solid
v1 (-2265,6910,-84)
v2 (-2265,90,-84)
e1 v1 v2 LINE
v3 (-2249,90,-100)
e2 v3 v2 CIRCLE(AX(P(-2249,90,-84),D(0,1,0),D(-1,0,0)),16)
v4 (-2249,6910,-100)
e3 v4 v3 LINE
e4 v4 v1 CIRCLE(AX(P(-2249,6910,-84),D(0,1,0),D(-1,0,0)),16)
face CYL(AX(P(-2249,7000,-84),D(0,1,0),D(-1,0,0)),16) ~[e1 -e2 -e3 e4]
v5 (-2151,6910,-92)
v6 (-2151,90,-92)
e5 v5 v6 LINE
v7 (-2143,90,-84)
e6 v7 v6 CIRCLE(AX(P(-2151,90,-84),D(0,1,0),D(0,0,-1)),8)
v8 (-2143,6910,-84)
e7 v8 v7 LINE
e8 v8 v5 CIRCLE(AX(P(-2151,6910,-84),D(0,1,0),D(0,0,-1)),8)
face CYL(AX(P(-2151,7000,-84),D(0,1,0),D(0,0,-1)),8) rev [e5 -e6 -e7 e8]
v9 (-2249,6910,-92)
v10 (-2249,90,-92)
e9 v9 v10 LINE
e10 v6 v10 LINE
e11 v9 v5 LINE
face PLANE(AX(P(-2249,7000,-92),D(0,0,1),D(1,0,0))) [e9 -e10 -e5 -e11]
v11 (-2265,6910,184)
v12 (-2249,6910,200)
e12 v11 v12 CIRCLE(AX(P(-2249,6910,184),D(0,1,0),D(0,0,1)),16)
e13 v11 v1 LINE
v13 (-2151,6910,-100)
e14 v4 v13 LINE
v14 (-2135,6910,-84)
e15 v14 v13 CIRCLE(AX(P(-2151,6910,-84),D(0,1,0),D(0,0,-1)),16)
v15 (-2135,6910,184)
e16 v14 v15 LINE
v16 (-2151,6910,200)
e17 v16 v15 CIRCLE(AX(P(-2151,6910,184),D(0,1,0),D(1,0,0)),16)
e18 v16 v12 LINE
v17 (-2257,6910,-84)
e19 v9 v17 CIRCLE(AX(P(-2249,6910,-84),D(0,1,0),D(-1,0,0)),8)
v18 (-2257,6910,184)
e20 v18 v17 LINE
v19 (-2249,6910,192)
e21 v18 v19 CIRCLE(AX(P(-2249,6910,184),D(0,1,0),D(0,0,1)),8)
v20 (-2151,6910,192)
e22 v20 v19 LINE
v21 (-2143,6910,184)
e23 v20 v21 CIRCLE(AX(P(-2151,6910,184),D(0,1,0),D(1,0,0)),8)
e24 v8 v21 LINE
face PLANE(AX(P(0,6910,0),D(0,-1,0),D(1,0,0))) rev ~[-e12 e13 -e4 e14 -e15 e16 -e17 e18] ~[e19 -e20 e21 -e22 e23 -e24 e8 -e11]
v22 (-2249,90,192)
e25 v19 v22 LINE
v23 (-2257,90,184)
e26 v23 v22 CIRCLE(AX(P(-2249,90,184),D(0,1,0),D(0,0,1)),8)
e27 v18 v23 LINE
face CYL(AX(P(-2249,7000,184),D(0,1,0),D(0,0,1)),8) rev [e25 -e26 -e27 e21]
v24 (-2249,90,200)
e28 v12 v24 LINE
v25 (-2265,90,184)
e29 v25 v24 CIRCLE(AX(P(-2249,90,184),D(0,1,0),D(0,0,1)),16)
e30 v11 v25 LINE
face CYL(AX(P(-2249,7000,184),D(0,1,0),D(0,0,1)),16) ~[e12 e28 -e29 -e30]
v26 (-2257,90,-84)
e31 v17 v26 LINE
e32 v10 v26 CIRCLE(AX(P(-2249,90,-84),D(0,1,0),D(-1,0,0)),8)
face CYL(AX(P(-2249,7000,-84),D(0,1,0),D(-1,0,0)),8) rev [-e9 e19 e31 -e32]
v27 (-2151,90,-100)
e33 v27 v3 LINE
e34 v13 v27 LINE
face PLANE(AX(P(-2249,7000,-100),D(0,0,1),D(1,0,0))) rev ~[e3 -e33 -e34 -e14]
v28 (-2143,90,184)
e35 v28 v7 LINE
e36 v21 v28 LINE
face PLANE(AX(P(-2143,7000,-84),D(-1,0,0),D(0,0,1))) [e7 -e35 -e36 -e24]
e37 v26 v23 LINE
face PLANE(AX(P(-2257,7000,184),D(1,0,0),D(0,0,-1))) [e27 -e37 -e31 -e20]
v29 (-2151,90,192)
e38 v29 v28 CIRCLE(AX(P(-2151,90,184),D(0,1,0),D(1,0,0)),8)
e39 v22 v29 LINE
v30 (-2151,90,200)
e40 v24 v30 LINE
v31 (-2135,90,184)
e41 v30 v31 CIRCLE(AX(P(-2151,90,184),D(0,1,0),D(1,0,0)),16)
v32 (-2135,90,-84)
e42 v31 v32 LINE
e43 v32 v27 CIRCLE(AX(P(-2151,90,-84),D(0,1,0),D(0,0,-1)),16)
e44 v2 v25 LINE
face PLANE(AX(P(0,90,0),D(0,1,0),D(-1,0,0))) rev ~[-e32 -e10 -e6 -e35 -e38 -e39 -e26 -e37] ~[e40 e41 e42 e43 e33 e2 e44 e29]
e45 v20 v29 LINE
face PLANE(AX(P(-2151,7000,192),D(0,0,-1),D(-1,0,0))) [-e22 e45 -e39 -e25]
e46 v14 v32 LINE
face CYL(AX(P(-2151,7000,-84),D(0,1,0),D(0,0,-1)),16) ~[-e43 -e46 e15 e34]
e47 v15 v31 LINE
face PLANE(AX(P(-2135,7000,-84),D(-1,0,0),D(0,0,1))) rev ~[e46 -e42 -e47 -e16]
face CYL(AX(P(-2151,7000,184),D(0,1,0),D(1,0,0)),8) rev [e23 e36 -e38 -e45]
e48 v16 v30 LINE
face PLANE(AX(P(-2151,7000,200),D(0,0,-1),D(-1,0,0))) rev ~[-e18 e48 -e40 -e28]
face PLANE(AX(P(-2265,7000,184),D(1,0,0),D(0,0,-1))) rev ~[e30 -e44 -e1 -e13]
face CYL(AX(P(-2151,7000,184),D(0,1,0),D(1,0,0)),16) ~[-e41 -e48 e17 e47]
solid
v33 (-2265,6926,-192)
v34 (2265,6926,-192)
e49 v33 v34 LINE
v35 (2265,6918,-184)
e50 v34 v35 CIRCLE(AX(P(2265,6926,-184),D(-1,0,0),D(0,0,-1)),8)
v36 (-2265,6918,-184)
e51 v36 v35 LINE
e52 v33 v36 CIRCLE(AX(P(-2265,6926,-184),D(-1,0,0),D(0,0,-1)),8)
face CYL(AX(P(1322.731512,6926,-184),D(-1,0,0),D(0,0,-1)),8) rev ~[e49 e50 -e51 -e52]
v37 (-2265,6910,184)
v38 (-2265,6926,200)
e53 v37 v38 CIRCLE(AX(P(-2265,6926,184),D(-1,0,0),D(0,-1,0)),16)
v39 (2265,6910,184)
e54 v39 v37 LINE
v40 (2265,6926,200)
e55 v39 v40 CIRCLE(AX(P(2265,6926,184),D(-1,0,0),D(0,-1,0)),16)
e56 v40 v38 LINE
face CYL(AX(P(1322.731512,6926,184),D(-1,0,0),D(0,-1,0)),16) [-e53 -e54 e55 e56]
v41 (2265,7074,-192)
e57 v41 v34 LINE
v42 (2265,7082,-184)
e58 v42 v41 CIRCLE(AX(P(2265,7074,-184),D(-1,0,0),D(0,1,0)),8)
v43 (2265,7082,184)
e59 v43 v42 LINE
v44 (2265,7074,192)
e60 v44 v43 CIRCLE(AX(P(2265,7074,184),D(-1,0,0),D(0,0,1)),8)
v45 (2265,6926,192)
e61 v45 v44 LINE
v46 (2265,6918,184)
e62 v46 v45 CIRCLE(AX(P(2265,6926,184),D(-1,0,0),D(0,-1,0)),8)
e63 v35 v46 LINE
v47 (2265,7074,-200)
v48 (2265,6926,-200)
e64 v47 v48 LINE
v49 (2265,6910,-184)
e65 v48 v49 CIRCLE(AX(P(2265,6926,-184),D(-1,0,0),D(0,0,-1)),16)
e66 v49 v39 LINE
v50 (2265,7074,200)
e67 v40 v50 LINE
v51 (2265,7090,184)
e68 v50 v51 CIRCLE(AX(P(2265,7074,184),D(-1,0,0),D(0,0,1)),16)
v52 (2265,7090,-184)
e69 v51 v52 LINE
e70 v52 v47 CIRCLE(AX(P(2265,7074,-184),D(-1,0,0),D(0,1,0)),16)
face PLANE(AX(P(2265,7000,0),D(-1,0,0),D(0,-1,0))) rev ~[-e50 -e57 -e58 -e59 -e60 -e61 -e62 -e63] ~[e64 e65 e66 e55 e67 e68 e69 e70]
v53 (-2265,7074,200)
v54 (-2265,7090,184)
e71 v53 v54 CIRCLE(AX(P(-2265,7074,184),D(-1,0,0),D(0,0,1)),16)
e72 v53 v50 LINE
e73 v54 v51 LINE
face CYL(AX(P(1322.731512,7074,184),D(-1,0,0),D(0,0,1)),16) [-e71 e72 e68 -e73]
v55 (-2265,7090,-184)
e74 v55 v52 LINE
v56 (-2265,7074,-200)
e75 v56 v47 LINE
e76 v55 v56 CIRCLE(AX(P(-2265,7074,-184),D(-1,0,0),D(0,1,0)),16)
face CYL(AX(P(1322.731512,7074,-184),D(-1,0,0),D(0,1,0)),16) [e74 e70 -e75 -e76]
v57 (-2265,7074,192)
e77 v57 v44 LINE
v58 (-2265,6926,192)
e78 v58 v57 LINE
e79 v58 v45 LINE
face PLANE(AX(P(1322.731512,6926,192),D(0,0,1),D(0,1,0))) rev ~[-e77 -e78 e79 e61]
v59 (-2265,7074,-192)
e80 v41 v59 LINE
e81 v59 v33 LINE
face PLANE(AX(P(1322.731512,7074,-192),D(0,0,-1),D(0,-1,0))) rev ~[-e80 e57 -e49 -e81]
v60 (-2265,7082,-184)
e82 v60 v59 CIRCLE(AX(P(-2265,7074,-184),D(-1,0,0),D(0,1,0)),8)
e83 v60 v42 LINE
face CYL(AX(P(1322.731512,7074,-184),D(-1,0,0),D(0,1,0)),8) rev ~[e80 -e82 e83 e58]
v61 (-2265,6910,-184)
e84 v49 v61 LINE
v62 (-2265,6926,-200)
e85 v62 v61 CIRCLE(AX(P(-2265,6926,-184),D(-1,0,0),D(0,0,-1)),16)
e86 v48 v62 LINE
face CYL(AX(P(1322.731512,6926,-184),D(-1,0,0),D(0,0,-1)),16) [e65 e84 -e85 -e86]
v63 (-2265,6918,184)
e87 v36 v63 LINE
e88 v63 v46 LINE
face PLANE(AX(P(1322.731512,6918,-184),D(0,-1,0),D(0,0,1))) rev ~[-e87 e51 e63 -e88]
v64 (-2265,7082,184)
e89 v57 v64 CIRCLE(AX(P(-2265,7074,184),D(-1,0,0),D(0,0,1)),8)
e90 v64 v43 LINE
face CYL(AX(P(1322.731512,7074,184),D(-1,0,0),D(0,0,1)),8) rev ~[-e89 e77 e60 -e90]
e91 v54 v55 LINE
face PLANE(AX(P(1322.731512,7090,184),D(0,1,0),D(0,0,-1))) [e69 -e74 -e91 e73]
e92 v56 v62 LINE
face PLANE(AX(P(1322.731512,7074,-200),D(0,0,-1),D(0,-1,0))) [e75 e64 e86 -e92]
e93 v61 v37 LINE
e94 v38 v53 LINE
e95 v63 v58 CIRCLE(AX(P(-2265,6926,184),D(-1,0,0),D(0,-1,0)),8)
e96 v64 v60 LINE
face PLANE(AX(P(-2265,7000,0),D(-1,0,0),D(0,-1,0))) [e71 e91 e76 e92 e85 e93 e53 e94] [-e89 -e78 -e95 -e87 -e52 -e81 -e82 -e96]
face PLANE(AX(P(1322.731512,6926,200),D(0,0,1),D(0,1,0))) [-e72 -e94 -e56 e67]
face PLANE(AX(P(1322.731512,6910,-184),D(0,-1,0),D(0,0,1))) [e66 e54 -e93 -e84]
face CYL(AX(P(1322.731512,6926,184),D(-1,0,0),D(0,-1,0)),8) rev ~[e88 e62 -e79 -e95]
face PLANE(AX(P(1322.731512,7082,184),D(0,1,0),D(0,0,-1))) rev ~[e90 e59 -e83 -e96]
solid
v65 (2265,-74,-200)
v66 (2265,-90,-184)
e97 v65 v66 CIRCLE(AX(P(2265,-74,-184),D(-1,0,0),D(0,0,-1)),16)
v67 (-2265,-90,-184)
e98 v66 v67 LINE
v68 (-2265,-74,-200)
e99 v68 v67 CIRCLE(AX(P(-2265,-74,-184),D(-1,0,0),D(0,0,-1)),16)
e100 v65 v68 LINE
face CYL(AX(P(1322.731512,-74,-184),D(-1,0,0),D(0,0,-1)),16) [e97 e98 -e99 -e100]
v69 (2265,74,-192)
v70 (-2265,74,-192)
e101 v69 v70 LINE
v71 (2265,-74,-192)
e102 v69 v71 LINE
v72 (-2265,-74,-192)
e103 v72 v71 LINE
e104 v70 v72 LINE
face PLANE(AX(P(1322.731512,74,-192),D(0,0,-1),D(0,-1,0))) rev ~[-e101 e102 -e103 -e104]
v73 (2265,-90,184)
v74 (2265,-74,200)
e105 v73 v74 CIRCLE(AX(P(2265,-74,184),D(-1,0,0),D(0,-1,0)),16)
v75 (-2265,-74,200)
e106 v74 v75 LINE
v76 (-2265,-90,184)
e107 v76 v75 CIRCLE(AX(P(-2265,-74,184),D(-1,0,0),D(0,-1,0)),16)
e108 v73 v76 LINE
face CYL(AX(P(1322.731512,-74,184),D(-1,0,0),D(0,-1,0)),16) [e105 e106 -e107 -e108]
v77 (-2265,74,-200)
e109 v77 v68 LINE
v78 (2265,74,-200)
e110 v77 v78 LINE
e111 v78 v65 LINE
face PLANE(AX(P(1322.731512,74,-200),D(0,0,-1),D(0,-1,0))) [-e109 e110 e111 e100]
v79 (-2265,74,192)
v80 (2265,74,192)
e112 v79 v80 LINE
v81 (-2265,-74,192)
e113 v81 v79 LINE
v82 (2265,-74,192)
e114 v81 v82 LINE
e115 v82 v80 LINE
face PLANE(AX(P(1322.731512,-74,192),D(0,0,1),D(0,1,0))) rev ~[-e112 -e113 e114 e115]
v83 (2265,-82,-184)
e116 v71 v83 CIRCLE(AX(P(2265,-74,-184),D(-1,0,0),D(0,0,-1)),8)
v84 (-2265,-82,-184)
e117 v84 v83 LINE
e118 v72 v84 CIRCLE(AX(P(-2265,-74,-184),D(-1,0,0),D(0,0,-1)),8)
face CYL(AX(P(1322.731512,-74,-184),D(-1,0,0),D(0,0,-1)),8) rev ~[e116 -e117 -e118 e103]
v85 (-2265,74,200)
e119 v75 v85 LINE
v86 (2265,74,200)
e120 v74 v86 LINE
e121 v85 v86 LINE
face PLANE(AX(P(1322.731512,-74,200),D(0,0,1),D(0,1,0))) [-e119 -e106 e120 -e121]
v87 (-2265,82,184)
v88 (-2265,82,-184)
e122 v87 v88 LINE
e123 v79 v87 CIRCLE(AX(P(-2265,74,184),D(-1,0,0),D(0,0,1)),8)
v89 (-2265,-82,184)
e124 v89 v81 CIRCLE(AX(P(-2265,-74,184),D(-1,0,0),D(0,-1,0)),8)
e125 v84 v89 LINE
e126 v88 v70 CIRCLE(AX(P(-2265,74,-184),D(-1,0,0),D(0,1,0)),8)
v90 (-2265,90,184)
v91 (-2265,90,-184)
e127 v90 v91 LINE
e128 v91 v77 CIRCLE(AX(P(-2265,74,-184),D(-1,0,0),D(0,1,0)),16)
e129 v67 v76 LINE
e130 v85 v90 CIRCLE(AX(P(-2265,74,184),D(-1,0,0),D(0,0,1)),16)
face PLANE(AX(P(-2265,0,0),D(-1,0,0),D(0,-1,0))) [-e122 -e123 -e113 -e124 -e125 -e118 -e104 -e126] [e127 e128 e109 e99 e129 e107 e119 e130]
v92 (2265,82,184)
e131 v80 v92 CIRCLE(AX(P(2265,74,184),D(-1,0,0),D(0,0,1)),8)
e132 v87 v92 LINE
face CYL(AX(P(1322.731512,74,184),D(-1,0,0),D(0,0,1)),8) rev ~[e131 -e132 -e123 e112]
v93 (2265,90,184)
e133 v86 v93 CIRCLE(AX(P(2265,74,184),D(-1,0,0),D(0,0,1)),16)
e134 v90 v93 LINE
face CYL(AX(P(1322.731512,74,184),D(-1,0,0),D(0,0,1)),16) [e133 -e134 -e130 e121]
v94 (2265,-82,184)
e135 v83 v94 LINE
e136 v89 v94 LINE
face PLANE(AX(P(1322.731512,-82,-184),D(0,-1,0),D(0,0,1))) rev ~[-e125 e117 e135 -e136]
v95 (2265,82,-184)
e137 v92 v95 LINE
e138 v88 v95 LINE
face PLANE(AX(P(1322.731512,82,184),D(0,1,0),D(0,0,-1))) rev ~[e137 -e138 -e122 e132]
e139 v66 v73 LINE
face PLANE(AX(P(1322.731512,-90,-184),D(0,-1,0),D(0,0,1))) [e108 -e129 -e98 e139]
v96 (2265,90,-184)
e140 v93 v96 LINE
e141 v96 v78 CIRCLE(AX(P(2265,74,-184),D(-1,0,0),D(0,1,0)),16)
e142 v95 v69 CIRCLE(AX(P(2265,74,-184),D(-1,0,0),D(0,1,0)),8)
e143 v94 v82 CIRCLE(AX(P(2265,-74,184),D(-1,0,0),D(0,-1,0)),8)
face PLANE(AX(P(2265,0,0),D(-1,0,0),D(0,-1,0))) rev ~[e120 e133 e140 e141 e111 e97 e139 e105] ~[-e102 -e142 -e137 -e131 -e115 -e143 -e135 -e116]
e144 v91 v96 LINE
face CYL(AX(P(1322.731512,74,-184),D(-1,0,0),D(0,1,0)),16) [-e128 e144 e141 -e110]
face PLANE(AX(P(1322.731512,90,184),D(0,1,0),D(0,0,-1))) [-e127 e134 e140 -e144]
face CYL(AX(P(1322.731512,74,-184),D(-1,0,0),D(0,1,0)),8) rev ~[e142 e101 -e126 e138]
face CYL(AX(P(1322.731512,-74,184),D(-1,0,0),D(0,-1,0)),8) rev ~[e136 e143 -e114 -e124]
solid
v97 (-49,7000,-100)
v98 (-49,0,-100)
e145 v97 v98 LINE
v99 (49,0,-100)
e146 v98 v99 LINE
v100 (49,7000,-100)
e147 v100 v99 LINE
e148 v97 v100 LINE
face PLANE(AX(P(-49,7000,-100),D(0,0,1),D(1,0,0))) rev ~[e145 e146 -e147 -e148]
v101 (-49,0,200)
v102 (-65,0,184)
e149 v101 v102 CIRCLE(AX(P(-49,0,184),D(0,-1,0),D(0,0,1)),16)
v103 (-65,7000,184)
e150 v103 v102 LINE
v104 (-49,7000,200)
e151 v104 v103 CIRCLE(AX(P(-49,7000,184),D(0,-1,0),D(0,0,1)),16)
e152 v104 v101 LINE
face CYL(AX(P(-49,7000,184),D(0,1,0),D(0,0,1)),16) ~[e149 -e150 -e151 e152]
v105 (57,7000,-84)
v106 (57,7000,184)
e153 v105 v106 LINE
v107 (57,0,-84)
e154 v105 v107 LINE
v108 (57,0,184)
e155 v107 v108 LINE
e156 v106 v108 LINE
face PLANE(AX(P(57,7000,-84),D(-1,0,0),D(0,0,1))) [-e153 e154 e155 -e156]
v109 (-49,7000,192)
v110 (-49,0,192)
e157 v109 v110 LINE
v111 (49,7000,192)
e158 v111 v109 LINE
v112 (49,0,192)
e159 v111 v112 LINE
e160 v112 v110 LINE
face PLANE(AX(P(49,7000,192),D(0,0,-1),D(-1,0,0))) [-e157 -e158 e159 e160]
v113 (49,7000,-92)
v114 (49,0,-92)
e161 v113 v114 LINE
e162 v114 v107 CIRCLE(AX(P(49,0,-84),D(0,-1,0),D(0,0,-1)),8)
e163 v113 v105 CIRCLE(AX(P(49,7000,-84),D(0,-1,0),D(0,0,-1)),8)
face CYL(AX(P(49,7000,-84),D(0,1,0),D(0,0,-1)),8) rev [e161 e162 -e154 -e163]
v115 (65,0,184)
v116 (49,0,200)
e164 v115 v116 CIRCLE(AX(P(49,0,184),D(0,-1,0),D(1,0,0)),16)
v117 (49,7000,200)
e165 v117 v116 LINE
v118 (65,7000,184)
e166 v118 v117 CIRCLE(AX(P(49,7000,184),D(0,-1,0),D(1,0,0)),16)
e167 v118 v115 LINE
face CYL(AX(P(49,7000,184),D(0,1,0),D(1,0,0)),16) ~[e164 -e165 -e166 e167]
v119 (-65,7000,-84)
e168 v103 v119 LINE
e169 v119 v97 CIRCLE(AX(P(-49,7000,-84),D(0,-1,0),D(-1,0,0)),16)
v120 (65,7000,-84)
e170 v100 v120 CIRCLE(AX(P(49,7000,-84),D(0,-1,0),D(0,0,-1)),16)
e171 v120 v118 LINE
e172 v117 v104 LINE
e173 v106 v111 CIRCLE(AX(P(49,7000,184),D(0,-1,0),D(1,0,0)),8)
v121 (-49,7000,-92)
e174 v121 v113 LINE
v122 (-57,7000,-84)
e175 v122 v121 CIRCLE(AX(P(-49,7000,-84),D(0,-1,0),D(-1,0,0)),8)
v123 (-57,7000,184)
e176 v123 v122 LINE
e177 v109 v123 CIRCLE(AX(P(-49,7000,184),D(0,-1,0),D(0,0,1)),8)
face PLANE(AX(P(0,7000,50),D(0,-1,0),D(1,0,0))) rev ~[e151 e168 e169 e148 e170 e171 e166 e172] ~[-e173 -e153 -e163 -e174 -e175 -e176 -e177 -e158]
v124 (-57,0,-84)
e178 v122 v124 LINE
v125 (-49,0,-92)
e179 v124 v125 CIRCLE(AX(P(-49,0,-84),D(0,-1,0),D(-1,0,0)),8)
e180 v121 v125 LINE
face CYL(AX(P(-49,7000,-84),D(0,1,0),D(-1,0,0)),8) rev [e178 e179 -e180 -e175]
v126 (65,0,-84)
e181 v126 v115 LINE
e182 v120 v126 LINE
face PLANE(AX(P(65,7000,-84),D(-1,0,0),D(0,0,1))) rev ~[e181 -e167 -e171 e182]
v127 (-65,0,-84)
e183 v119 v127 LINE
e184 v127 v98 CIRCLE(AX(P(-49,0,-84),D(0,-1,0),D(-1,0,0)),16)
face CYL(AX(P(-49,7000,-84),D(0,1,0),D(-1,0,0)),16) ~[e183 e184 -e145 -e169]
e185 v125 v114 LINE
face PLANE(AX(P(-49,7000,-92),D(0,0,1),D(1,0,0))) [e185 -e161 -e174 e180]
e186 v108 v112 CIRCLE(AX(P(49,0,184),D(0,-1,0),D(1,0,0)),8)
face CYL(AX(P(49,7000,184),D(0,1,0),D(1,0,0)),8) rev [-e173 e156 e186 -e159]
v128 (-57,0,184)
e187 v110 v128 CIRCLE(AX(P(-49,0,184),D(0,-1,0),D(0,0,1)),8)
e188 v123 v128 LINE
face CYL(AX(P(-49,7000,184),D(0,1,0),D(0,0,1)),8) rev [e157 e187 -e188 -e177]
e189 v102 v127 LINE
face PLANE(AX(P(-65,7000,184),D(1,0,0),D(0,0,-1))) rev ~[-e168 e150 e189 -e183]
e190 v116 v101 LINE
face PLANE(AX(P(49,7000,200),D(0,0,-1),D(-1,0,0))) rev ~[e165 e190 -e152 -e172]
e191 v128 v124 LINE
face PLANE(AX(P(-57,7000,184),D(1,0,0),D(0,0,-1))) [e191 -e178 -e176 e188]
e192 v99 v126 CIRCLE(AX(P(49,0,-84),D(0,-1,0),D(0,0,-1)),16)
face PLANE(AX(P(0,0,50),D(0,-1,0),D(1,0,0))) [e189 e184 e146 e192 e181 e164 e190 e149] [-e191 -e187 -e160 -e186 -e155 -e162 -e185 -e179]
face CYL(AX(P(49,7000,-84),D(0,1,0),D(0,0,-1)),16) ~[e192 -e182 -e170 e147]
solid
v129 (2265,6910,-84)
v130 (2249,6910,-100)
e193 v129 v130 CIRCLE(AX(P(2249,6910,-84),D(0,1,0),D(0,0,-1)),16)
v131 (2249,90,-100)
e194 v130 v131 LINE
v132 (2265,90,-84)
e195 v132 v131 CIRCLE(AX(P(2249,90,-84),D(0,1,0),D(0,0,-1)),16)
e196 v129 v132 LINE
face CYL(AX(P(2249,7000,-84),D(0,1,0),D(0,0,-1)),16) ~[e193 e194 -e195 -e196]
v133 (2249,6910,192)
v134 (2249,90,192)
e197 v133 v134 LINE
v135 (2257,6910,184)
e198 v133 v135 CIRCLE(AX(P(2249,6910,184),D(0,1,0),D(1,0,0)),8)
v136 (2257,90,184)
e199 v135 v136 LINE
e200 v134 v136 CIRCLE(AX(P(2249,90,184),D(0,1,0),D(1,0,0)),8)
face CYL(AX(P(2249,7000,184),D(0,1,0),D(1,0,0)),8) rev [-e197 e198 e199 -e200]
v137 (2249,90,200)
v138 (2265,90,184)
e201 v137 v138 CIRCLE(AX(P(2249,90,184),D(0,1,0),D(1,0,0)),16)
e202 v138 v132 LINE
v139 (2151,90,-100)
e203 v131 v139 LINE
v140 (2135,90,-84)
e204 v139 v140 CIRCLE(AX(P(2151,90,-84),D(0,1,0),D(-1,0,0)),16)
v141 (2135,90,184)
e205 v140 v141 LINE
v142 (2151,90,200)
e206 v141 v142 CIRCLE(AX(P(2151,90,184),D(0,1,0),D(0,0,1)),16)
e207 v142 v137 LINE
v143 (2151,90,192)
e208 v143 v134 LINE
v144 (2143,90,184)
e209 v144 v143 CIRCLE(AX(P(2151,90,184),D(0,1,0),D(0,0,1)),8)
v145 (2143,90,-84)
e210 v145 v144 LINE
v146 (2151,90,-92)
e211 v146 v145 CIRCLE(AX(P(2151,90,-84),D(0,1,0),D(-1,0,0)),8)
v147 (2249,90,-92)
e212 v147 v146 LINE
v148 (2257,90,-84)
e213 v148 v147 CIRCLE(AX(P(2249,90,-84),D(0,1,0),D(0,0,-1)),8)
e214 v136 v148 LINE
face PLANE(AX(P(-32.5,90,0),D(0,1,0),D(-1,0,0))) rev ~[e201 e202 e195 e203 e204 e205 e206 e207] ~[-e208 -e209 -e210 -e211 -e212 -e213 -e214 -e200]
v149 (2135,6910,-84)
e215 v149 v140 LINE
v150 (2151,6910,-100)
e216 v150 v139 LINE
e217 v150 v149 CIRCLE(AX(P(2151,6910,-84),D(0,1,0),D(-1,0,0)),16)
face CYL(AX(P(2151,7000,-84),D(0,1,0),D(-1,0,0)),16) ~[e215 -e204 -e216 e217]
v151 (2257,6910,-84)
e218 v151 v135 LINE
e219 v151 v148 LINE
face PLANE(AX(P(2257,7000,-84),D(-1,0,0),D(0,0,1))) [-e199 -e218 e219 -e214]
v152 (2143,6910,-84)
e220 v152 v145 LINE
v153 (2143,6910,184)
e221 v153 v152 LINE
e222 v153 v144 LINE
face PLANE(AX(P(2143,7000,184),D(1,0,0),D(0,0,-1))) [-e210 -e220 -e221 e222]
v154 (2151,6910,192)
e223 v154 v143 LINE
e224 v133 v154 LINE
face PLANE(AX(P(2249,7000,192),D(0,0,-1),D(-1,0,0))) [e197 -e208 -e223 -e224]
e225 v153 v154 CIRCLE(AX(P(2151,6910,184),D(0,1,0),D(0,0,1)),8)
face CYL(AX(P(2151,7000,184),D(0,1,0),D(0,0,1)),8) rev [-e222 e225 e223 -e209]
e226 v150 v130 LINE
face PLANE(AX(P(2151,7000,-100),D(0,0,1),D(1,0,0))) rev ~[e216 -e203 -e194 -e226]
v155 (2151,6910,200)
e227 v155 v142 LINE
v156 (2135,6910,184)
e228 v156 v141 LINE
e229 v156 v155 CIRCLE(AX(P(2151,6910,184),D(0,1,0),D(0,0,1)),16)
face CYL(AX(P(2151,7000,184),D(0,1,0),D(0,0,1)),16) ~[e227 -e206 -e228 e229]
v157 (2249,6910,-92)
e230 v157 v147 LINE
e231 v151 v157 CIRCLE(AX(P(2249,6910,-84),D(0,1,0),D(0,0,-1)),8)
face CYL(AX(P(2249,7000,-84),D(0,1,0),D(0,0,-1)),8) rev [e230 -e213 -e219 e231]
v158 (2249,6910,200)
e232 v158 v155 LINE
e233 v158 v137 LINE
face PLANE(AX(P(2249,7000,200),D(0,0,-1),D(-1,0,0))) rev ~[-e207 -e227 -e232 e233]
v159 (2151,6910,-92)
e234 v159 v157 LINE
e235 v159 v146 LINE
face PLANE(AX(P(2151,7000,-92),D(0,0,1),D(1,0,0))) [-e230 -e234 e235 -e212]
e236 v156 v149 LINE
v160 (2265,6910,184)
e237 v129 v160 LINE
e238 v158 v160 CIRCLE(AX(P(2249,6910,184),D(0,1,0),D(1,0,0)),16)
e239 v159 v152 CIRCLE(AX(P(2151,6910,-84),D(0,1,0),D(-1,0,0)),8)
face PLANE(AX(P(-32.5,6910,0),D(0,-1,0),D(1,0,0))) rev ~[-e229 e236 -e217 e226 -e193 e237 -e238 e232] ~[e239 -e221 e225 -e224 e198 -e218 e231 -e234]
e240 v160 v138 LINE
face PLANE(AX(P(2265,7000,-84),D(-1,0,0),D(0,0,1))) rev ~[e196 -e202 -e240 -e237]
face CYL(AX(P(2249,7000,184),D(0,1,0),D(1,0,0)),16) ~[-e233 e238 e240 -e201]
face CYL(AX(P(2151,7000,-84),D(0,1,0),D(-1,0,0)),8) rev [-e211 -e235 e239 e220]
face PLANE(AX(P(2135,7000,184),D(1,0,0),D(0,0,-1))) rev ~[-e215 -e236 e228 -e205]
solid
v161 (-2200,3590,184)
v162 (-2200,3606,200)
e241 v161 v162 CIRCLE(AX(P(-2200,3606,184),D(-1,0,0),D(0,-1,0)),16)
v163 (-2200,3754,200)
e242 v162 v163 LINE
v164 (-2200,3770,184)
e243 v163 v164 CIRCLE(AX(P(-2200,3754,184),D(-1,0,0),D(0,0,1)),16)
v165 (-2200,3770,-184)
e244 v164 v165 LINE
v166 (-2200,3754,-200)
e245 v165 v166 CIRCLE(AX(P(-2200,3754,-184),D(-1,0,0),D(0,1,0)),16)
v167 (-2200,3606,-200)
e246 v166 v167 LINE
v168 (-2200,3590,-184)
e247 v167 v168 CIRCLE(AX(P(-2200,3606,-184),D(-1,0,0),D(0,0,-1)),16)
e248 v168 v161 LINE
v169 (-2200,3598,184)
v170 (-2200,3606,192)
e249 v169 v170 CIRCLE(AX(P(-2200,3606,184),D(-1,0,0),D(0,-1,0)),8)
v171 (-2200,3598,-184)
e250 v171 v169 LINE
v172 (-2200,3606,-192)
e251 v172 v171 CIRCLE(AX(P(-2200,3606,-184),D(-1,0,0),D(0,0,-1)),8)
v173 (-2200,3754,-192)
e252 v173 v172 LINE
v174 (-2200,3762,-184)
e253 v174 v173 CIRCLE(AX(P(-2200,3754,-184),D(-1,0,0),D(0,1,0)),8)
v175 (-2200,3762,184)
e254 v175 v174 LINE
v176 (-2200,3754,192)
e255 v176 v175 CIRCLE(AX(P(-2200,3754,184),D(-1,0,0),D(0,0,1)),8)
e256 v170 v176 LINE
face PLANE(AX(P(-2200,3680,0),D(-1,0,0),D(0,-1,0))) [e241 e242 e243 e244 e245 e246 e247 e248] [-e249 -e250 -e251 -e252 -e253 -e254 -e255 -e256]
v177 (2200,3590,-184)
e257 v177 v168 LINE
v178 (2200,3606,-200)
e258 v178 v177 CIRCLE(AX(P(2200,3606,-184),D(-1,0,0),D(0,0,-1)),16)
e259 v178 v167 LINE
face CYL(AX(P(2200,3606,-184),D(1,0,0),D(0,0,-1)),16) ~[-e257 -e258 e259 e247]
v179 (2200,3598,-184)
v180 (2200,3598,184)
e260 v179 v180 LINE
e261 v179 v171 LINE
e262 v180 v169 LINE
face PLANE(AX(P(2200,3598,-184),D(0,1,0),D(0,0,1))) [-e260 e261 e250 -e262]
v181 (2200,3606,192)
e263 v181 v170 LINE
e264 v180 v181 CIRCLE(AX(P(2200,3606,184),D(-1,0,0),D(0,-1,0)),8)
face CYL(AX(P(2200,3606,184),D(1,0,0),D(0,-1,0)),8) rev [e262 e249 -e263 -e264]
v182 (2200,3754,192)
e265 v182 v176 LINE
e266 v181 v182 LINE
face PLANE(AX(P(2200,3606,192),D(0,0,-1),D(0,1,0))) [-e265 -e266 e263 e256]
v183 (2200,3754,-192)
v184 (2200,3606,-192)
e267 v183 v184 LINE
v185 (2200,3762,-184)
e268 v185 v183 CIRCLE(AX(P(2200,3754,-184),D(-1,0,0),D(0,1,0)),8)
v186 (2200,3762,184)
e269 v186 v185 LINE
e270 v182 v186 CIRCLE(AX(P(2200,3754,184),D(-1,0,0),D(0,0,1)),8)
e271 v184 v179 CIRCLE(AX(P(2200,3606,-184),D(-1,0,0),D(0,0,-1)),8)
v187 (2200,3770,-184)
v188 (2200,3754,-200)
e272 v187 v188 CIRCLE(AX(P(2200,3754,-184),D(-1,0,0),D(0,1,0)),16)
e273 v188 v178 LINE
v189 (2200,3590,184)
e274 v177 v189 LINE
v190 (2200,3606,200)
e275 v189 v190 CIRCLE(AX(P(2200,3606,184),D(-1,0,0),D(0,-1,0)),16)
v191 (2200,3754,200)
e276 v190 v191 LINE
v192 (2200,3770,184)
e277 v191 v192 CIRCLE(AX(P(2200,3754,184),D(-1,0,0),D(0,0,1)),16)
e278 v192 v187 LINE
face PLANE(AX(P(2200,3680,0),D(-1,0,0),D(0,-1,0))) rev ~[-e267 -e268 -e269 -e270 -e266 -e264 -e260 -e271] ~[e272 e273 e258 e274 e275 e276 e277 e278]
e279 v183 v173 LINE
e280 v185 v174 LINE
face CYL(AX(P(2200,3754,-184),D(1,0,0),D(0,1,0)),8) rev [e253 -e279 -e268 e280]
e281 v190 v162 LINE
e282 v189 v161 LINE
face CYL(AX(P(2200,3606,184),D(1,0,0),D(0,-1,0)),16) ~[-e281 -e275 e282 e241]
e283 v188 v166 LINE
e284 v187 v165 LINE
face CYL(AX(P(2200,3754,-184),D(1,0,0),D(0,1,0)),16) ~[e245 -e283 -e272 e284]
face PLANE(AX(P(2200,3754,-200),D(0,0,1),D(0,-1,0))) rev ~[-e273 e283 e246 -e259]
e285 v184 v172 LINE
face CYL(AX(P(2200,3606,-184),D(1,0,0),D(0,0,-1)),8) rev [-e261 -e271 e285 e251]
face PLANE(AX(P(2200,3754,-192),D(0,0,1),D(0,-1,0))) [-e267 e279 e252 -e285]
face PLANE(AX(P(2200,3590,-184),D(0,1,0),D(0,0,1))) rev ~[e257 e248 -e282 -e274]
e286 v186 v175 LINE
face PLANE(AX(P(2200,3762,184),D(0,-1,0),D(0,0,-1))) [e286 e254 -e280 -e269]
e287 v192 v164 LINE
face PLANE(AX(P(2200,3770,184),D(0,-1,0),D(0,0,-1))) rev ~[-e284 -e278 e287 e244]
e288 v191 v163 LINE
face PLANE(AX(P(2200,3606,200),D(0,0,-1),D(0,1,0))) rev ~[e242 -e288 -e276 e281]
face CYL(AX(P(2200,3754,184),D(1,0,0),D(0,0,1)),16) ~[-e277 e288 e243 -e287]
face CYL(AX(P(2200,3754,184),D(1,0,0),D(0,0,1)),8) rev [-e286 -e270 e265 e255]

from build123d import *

# Parameters (mm, degrees)
TUBO_RECTANGULAR_120_X_80_X_8_1_DEPTH   = 4400
TUBO_RECTANGULAR_120_X_80_X_8_1_2_DEPTH = 4400
TUBO_RECTANGULAR_120_X_80_X_8_1_3_DEPTH = 4400
TUBO_RECTANGULAR_120_X_80_X_8_2_DEPTH   = 7000
TUBO_RECTANGULAR_120_X_80_X_8_2_2_DEPTH = 7000
TUBO_RECTANGULAR_120_X_80_X_8_2_3_DEPTH = 7000
PART_START                              = 3522.731512022
PART_RUN_ON_DEPTH                       = 942.268487978
PART_START_2                            = 877.268487978
PART_RUN_ON_2_DEPTH                     = 942.268487978
BODY_START                              = 3522.731512022
BODY_3_RUN_ON_DEPTH                     = 942.268487978
BODY_START_2                            = 877.268487978
BODY_3_RUN_ON_2_DEPTH                   = 942.268487978


with BuildPart() as part:
    # Sketch1 → Tubo rectangular 120 X 80 X 8(1) (new body)
    with BuildSketch(Plane(origin=(2200, 0, 0), x_dir=(0, -1, 0), z_dir=(-1, 0, 0))):
        with BuildLine():
            Line((-74, -200), (74, -200))
            ThreePointArc((74, -200), (85.313708499, -195.313708499), (90, -184))
            Line((90, -184), (90, 184))
            ThreePointArc((90, 184), (85.313708499, 195.313708499), (74, 200))
            Line((74, 200), (-74, 200))
            ThreePointArc((-74, 200), (-85.313708499, 195.313708499), (-90, 184))
            Line((-90, 184), (-90, -184))
            ThreePointArc((-90, -184), (-85.313708499, -195.313708499), (-74, -200))
        make_face()
        with BuildLine():
            Line((-74, -192), (74, -192))
            ThreePointArc((74, -192), (79.656854249, -189.656854249), (82, -184))
            Line((82, -184), (82, 184))
            ThreePointArc((82, 184), (79.656854249, 189.656854249), (74, 192))
            Line((74, 192), (-74, 192))
            ThreePointArc((-74, 192), (-79.656854249, 189.656854249), (-82, 184))
            Line((-82, 184), (-82, -184))
            ThreePointArc((-82, -184), (-79.656854249, -189.656854249), (-74, -192))
        make_face(mode=Mode.SUBTRACT)
    extrude(amount=TUBO_RECTANGULAR_120_X_80_X_8_1_DEPTH)

    # part cut square before the run-on
    split(bisect_by=Plane.YZ.offset(-1322.731512022), keep=Keep.TOP)

    # Sketch1 → part run on (add)
    with BuildSketch(Plane(origin=(2200, 0, 0), x_dir=(0, -1, 0), z_dir=(-1, 0, 0)).offset(PART_START)):
        with BuildLine():
            Line((-74, -200), (74, -200))
            ThreePointArc((74, -200), (85.313708499, -195.313708499), (90, -184))
            Line((90, -184), (90, 184))
            ThreePointArc((90, 184), (85.313708499, 195.313708499), (74, 200))
            Line((74, 200), (-74, 200))
            ThreePointArc((-74, 200), (-85.313708499, 195.313708499), (-90, 184))
            Line((-90, 184), (-90, -184))
            ThreePointArc((-90, -184), (-85.313708499, -195.313708499), (-74, -200))
        make_face()
        with BuildLine():
            Line((-74, -192), (74, -192))
            ThreePointArc((74, -192), (79.656854249, -189.656854249), (82, -184))
            Line((82, -184), (82, 184))
            ThreePointArc((82, 184), (79.656854249, 189.656854249), (74, 192))
            Line((74, 192), (-74, 192))
            ThreePointArc((-74, 192), (-79.656854249, 189.656854249), (-82, 184))
            Line((-82, 184), (-82, -184))
            ThreePointArc((-82, -184), (-79.656854249, -189.656854249), (-74, -192))
        make_face(mode=Mode.SUBTRACT)
    extrude(amount=PART_RUN_ON_DEPTH)

    # part cut square before the run-on
    split(bisect_by=Plane(origin=(1322.731512022, 0, 0), x_dir=(0, -1, 0), z_dir=(-1, 0, 0)), keep=Keep.TOP)

    # Sketch1 → part run on 2 (add)
    with BuildSketch(Plane(origin=(2200, 0, 0), x_dir=(0, -1, 0), z_dir=(-1, 0, 0)).offset(PART_START_2)):
        with BuildLine():
            Line((-74, -200), (74, -200))
            ThreePointArc((74, -200), (85.313708499, -195.313708499), (90, -184))
            Line((90, -184), (90, 184))
            ThreePointArc((90, 184), (85.313708499, 195.313708499), (74, 200))
            Line((74, 200), (-74, 200))
            ThreePointArc((-74, 200), (-85.313708499, 195.313708499), (-90, 184))
            Line((-90, 184), (-90, -184))
            ThreePointArc((-90, -184), (-85.313708499, -195.313708499), (-74, -200))
        make_face()
        with BuildLine():
            Line((-74, -192), (74, -192))
            ThreePointArc((74, -192), (79.656854249, -189.656854249), (82, -184))
            Line((82, -184), (82, 184))
            ThreePointArc((82, 184), (79.656854249, 189.656854249), (74, 192))
            Line((74, 192), (-74, 192))
            ThreePointArc((-74, 192), (-79.656854249, 189.656854249), (-82, 184))
            Line((-82, 184), (-82, -184))
            ThreePointArc((-82, -184), (-79.656854249, -189.656854249), (-74, -192))
        make_face(mode=Mode.SUBTRACT)
    extrude(amount=-PART_RUN_ON_2_DEPTH)


with BuildPart() as body_2:
    # Sketch1 on segment 2 (carried to segment 2) → Tubo rectangular 120 X 80 X 8_1 2 (new body)
    with BuildSketch(Plane(origin=(2200, 3680, 0), x_dir=(0, -1, 0), z_dir=(-1, 0, 0))):
        with BuildLine():
            Line((-74, -200), (74, -200))
            ThreePointArc((74, -200), (85.313708499, -195.313708499), (90, -184))
            Line((90, -184), (90, 184))
            ThreePointArc((90, 184), (85.313708499, 195.313708499), (74, 200))
            Line((74, 200), (-74, 200))
            ThreePointArc((-74, 200), (-85.313708499, 195.313708499), (-90, 184))
            Line((-90, 184), (-90, -184))
            ThreePointArc((-90, -184), (-85.313708499, -195.313708499), (-74, -200))
        make_face()
        with BuildLine():
            Line((-74, -192), (74, -192))
            ThreePointArc((74, -192), (79.656854249, -189.656854249), (82, -184))
            Line((82, -184), (82, 184))
            ThreePointArc((82, 184), (79.656854249, 189.656854249), (74, 192))
            Line((74, 192), (-74, 192))
            ThreePointArc((-74, 192), (-79.656854249, 189.656854249), (-82, 184))
            Line((-82, 184), (-82, -184))
            ThreePointArc((-82, -184), (-79.656854249, -189.656854249), (-74, -192))
        make_face(mode=Mode.SUBTRACT)
    extrude(amount=TUBO_RECTANGULAR_120_X_80_X_8_1_2_DEPTH)


with BuildPart() as body_3:
    # Sketch1 on segment 3 (carried to segment 3) → Tubo rectangular 120 X 80 X 8_1 3 (new body)
    with BuildSketch(Plane(origin=(2200, 7000, 0), x_dir=(0, -1, 0), z_dir=(-1, 0, 0))):
        with BuildLine():
            Line((-74, -200), (74, -200))
            ThreePointArc((74, -200), (85.313708499, -195.313708499), (90, -184))
            Line((90, -184), (90, 184))
            ThreePointArc((90, 184), (85.313708499, 195.313708499), (74, 200))
            Line((74, 200), (-74, 200))
            ThreePointArc((-74, 200), (-85.313708499, 195.313708499), (-90, 184))
            Line((-90, 184), (-90, -184))
            ThreePointArc((-90, -184), (-85.313708499, -195.313708499), (-74, -200))
        make_face()
        with BuildLine():
            Line((-74, -192), (74, -192))
            ThreePointArc((74, -192), (79.656854249, -189.656854249), (82, -184))
            Line((82, -184), (82, 184))
            ThreePointArc((82, 184), (79.656854249, 189.656854249), (74, 192))
            Line((74, 192), (-74, 192))
            ThreePointArc((-74, 192), (-79.656854249, 189.656854249), (-82, 184))
            Line((-82, 184), (-82, -184))
            ThreePointArc((-82, -184), (-79.656854249, -189.656854249), (-74, -192))
        make_face(mode=Mode.SUBTRACT)
    extrude(amount=TUBO_RECTANGULAR_120_X_80_X_8_1_3_DEPTH)

    # body 3 cut square before the run-on
    split(bisect_by=Plane(origin=(-1322.731512022, 7000, 0), x_dir=(0, 1, 0), z_dir=(1, 0, 0)), keep=Keep.TOP)

    # Sketch1 on segment 3 (carried to segment 3) → body 3 run on (add)
    with BuildSketch(Plane(origin=(2200, 7000, 0), x_dir=(0, -1, 0), z_dir=(-1, 0, 0)).offset(BODY_START)):
        with BuildLine():
            Line((-74, -200), (74, -200))
            ThreePointArc((74, -200), (85.313708499, -195.313708499), (90, -184))
            Line((90, -184), (90, 184))
            ThreePointArc((90, 184), (85.313708499, 195.313708499), (74, 200))
            Line((74, 200), (-74, 200))
            ThreePointArc((-74, 200), (-85.313708499, 195.313708499), (-90, 184))
            Line((-90, 184), (-90, -184))
            ThreePointArc((-90, -184), (-85.313708499, -195.313708499), (-74, -200))
        make_face()
        with BuildLine():
            Line((-74, -192), (74, -192))
            ThreePointArc((74, -192), (79.656854249, -189.656854249), (82, -184))
            Line((82, -184), (82, 184))
            ThreePointArc((82, 184), (79.656854249, 189.656854249), (74, 192))
            Line((74, 192), (-74, 192))
            ThreePointArc((-74, 192), (-79.656854249, 189.656854249), (-82, 184))
            Line((-82, 184), (-82, -184))
            ThreePointArc((-82, -184), (-79.656854249, -189.656854249), (-74, -192))
        make_face(mode=Mode.SUBTRACT)
    extrude(amount=BODY_3_RUN_ON_DEPTH)

    # body 3 cut square before the run-on
    split(bisect_by=Plane(origin=(1322.731512022, 7000, 0), x_dir=(0, -1, 0), z_dir=(-1, 0, 0)), keep=Keep.TOP)

    # Sketch1 on segment 3 (carried to segment 3) → body 3 run on 2 (add)
    with BuildSketch(Plane(origin=(2200, 7000, 0), x_dir=(0, -1, 0), z_dir=(-1, 0, 0)).offset(BODY_START_2)):
        with BuildLine():
            Line((-74, -200), (74, -200))
            ThreePointArc((74, -200), (85.313708499, -195.313708499), (90, -184))
            Line((90, -184), (90, 184))
            ThreePointArc((90, 184), (85.313708499, 195.313708499), (74, 200))
            Line((74, 200), (-74, 200))
            ThreePointArc((-74, 200), (-85.313708499, 195.313708499), (-90, 184))
            Line((-90, 184), (-90, -184))
            ThreePointArc((-90, -184), (-85.313708499, -195.313708499), (-74, -200))
        make_face()
        with BuildLine():
            Line((-74, -192), (74, -192))
            ThreePointArc((74, -192), (79.656854249, -189.656854249), (82, -184))
            Line((82, -184), (82, 184))
            ThreePointArc((82, 184), (79.656854249, 189.656854249), (74, 192))
            Line((74, 192), (-74, 192))
            ThreePointArc((-74, 192), (-79.656854249, 189.656854249), (-82, 184))
            Line((-82, 184), (-82, -184))
            ThreePointArc((-82, -184), (-79.656854249, -189.656854249), (-74, -192))
        make_face(mode=Mode.SUBTRACT)
    extrude(amount=-BODY_3_RUN_ON_2_DEPTH)


with BuildPart() as body_4:
    # Sketch13 → Tubo rectangular 120 X 80 X 8(2) (new body)
    with BuildSketch(Plane(origin=(-2200, 7000, 50), x_dir=(1, 0, 0), z_dir=(0, -1, 0))):
        with BuildLine():
            Line((-49, -150), (49, -150))
            ThreePointArc((49, -150), (60.313708499, -145.313708499), (65, -134))
            Line((65, -134), (65, 134))
            ThreePointArc((65, 134), (60.313708499, 145.313708499), (49, 150))
            Line((49, 150), (-49, 150))
            ThreePointArc((-49, 150), (-60.313708499, 145.313708499), (-65, 134))
            Line((-65, 134), (-65, -134))
            ThreePointArc((-65, -134), (-60.313708499, -145.313708499), (-49, -150))
        make_face()
        with BuildLine():
            Line((-49, -142), (49, -142))
            ThreePointArc((49, -142), (54.656854249, -139.656854249), (57, -134))
            Line((57, -134), (57, 134))
            ThreePointArc((57, 134), (54.656854249, 139.656854249), (49, 142))
            Line((49, 142), (-49, 142))
            ThreePointArc((-49, 142), (-54.656854249, 139.656854249), (-57, 134))
            Line((-57, 134), (-57, -134))
            ThreePointArc((-57, -134), (-54.656854249, -139.656854249), (-49, -142))
        make_face(mode=Mode.SUBTRACT)
    extrude(amount=TUBO_RECTANGULAR_120_X_80_X_8_2_DEPTH)

    # Recortar_Extender1 3
    split(bisect_by=Plane(origin=(0, 90, 0), x_dir=(-1, 0, 0), z_dir=(0, 1, 0)), keep=Keep.TOP)

    # Recortar/Extender3
    split(bisect_by=Plane.XZ.offset(-6910), keep=Keep.TOP)


with BuildPart() as body_5:
    # Sketch13 on segment 2 (carried to segment 2) → Tubo rectangular 120 X 80 X 8_2 2 (new body)
    with BuildSketch(Plane(origin=(0, 7000, 50), x_dir=(1, 0, 0), z_dir=(0, -1, 0))):
        with BuildLine():
            Line((-49, -150), (49, -150))
            ThreePointArc((49, -150), (60.313708499, -145.313708499), (65, -134))
            Line((65, -134), (65, 134))
            ThreePointArc((65, 134), (60.313708499, 145.313708499), (49, 150))
            Line((49, 150), (-49, 150))
            ThreePointArc((-49, 150), (-60.313708499, 145.313708499), (-65, 134))
            Line((-65, 134), (-65, -134))
            ThreePointArc((-65, -134), (-60.313708499, -145.313708499), (-49, -150))
        make_face()
        with BuildLine():
            Line((-49, -142), (49, -142))
            ThreePointArc((49, -142), (54.656854249, -139.656854249), (57, -134))
            Line((57, -134), (57, 134))
            ThreePointArc((57, 134), (54.656854249, 139.656854249), (49, 142))
            Line((49, 142), (-49, 142))
            ThreePointArc((-49, 142), (-54.656854249, 139.656854249), (-57, 134))
            Line((-57, 134), (-57, -134))
            ThreePointArc((-57, -134), (-54.656854249, -139.656854249), (-49, -142))
        make_face(mode=Mode.SUBTRACT)
    extrude(amount=TUBO_RECTANGULAR_120_X_80_X_8_2_2_DEPTH)


with BuildPart() as body_6:
    # Sketch13 on segment 3 (carried to segment 3) → Tubo rectangular 120 X 80 X 8_2 3 (new body)
    with BuildSketch(Plane(origin=(2200, 7000, 50), x_dir=(1, 0, 0), z_dir=(0, -1, 0))):
        with BuildLine():
            Line((-49, -150), (49, -150))
            ThreePointArc((49, -150), (60.313708499, -145.313708499), (65, -134))
            Line((65, -134), (65, 134))
            ThreePointArc((65, 134), (60.313708499, 145.313708499), (49, 150))
            Line((49, 150), (-49, 150))
            ThreePointArc((-49, 150), (-60.313708499, 145.313708499), (-65, 134))
            Line((-65, 134), (-65, -134))
            ThreePointArc((-65, -134), (-60.313708499, -145.313708499), (-49, -150))
        make_face()
        with BuildLine():
            Line((-49, -142), (49, -142))
            ThreePointArc((49, -142), (54.656854249, -139.656854249), (57, -134))
            Line((57, -134), (57, 134))
            ThreePointArc((57, 134), (54.656854249, 139.656854249), (49, 142))
            Line((49, 142), (-49, 142))
            ThreePointArc((-49, 142), (-54.656854249, 139.656854249), (-57, 134))
            Line((-57, 134), (-57, -134))
            ThreePointArc((-57, -134), (-54.656854249, -139.656854249), (-49, -142))
        make_face(mode=Mode.SUBTRACT)
    extrude(amount=TUBO_RECTANGULAR_120_X_80_X_8_2_3_DEPTH)

    # Recortar_Extender2 6
    split(bisect_by=Plane(origin=(-32.5, 82, 0), x_dir=(-1, 0, 0), z_dir=(0, 1, 0)), keep=Keep.TOP)

    # Recortar_Extender2 7
    split(bisect_by=Plane(origin=(-32.5, 90, 0), x_dir=(-1, 0, 0), z_dir=(0, 1, 0)), keep=Keep.TOP)

    # Recortar/Extender4
    split(bisect_by=Plane(origin=(-32.5, 6910, 0), x_dir=(1, 0, 0), z_dir=(0, -1, 0)), keep=Keep.TOP)


solid = Compound([part.part, body_2.part, body_3.part, body_4.part, body_5.part, body_6.part])
